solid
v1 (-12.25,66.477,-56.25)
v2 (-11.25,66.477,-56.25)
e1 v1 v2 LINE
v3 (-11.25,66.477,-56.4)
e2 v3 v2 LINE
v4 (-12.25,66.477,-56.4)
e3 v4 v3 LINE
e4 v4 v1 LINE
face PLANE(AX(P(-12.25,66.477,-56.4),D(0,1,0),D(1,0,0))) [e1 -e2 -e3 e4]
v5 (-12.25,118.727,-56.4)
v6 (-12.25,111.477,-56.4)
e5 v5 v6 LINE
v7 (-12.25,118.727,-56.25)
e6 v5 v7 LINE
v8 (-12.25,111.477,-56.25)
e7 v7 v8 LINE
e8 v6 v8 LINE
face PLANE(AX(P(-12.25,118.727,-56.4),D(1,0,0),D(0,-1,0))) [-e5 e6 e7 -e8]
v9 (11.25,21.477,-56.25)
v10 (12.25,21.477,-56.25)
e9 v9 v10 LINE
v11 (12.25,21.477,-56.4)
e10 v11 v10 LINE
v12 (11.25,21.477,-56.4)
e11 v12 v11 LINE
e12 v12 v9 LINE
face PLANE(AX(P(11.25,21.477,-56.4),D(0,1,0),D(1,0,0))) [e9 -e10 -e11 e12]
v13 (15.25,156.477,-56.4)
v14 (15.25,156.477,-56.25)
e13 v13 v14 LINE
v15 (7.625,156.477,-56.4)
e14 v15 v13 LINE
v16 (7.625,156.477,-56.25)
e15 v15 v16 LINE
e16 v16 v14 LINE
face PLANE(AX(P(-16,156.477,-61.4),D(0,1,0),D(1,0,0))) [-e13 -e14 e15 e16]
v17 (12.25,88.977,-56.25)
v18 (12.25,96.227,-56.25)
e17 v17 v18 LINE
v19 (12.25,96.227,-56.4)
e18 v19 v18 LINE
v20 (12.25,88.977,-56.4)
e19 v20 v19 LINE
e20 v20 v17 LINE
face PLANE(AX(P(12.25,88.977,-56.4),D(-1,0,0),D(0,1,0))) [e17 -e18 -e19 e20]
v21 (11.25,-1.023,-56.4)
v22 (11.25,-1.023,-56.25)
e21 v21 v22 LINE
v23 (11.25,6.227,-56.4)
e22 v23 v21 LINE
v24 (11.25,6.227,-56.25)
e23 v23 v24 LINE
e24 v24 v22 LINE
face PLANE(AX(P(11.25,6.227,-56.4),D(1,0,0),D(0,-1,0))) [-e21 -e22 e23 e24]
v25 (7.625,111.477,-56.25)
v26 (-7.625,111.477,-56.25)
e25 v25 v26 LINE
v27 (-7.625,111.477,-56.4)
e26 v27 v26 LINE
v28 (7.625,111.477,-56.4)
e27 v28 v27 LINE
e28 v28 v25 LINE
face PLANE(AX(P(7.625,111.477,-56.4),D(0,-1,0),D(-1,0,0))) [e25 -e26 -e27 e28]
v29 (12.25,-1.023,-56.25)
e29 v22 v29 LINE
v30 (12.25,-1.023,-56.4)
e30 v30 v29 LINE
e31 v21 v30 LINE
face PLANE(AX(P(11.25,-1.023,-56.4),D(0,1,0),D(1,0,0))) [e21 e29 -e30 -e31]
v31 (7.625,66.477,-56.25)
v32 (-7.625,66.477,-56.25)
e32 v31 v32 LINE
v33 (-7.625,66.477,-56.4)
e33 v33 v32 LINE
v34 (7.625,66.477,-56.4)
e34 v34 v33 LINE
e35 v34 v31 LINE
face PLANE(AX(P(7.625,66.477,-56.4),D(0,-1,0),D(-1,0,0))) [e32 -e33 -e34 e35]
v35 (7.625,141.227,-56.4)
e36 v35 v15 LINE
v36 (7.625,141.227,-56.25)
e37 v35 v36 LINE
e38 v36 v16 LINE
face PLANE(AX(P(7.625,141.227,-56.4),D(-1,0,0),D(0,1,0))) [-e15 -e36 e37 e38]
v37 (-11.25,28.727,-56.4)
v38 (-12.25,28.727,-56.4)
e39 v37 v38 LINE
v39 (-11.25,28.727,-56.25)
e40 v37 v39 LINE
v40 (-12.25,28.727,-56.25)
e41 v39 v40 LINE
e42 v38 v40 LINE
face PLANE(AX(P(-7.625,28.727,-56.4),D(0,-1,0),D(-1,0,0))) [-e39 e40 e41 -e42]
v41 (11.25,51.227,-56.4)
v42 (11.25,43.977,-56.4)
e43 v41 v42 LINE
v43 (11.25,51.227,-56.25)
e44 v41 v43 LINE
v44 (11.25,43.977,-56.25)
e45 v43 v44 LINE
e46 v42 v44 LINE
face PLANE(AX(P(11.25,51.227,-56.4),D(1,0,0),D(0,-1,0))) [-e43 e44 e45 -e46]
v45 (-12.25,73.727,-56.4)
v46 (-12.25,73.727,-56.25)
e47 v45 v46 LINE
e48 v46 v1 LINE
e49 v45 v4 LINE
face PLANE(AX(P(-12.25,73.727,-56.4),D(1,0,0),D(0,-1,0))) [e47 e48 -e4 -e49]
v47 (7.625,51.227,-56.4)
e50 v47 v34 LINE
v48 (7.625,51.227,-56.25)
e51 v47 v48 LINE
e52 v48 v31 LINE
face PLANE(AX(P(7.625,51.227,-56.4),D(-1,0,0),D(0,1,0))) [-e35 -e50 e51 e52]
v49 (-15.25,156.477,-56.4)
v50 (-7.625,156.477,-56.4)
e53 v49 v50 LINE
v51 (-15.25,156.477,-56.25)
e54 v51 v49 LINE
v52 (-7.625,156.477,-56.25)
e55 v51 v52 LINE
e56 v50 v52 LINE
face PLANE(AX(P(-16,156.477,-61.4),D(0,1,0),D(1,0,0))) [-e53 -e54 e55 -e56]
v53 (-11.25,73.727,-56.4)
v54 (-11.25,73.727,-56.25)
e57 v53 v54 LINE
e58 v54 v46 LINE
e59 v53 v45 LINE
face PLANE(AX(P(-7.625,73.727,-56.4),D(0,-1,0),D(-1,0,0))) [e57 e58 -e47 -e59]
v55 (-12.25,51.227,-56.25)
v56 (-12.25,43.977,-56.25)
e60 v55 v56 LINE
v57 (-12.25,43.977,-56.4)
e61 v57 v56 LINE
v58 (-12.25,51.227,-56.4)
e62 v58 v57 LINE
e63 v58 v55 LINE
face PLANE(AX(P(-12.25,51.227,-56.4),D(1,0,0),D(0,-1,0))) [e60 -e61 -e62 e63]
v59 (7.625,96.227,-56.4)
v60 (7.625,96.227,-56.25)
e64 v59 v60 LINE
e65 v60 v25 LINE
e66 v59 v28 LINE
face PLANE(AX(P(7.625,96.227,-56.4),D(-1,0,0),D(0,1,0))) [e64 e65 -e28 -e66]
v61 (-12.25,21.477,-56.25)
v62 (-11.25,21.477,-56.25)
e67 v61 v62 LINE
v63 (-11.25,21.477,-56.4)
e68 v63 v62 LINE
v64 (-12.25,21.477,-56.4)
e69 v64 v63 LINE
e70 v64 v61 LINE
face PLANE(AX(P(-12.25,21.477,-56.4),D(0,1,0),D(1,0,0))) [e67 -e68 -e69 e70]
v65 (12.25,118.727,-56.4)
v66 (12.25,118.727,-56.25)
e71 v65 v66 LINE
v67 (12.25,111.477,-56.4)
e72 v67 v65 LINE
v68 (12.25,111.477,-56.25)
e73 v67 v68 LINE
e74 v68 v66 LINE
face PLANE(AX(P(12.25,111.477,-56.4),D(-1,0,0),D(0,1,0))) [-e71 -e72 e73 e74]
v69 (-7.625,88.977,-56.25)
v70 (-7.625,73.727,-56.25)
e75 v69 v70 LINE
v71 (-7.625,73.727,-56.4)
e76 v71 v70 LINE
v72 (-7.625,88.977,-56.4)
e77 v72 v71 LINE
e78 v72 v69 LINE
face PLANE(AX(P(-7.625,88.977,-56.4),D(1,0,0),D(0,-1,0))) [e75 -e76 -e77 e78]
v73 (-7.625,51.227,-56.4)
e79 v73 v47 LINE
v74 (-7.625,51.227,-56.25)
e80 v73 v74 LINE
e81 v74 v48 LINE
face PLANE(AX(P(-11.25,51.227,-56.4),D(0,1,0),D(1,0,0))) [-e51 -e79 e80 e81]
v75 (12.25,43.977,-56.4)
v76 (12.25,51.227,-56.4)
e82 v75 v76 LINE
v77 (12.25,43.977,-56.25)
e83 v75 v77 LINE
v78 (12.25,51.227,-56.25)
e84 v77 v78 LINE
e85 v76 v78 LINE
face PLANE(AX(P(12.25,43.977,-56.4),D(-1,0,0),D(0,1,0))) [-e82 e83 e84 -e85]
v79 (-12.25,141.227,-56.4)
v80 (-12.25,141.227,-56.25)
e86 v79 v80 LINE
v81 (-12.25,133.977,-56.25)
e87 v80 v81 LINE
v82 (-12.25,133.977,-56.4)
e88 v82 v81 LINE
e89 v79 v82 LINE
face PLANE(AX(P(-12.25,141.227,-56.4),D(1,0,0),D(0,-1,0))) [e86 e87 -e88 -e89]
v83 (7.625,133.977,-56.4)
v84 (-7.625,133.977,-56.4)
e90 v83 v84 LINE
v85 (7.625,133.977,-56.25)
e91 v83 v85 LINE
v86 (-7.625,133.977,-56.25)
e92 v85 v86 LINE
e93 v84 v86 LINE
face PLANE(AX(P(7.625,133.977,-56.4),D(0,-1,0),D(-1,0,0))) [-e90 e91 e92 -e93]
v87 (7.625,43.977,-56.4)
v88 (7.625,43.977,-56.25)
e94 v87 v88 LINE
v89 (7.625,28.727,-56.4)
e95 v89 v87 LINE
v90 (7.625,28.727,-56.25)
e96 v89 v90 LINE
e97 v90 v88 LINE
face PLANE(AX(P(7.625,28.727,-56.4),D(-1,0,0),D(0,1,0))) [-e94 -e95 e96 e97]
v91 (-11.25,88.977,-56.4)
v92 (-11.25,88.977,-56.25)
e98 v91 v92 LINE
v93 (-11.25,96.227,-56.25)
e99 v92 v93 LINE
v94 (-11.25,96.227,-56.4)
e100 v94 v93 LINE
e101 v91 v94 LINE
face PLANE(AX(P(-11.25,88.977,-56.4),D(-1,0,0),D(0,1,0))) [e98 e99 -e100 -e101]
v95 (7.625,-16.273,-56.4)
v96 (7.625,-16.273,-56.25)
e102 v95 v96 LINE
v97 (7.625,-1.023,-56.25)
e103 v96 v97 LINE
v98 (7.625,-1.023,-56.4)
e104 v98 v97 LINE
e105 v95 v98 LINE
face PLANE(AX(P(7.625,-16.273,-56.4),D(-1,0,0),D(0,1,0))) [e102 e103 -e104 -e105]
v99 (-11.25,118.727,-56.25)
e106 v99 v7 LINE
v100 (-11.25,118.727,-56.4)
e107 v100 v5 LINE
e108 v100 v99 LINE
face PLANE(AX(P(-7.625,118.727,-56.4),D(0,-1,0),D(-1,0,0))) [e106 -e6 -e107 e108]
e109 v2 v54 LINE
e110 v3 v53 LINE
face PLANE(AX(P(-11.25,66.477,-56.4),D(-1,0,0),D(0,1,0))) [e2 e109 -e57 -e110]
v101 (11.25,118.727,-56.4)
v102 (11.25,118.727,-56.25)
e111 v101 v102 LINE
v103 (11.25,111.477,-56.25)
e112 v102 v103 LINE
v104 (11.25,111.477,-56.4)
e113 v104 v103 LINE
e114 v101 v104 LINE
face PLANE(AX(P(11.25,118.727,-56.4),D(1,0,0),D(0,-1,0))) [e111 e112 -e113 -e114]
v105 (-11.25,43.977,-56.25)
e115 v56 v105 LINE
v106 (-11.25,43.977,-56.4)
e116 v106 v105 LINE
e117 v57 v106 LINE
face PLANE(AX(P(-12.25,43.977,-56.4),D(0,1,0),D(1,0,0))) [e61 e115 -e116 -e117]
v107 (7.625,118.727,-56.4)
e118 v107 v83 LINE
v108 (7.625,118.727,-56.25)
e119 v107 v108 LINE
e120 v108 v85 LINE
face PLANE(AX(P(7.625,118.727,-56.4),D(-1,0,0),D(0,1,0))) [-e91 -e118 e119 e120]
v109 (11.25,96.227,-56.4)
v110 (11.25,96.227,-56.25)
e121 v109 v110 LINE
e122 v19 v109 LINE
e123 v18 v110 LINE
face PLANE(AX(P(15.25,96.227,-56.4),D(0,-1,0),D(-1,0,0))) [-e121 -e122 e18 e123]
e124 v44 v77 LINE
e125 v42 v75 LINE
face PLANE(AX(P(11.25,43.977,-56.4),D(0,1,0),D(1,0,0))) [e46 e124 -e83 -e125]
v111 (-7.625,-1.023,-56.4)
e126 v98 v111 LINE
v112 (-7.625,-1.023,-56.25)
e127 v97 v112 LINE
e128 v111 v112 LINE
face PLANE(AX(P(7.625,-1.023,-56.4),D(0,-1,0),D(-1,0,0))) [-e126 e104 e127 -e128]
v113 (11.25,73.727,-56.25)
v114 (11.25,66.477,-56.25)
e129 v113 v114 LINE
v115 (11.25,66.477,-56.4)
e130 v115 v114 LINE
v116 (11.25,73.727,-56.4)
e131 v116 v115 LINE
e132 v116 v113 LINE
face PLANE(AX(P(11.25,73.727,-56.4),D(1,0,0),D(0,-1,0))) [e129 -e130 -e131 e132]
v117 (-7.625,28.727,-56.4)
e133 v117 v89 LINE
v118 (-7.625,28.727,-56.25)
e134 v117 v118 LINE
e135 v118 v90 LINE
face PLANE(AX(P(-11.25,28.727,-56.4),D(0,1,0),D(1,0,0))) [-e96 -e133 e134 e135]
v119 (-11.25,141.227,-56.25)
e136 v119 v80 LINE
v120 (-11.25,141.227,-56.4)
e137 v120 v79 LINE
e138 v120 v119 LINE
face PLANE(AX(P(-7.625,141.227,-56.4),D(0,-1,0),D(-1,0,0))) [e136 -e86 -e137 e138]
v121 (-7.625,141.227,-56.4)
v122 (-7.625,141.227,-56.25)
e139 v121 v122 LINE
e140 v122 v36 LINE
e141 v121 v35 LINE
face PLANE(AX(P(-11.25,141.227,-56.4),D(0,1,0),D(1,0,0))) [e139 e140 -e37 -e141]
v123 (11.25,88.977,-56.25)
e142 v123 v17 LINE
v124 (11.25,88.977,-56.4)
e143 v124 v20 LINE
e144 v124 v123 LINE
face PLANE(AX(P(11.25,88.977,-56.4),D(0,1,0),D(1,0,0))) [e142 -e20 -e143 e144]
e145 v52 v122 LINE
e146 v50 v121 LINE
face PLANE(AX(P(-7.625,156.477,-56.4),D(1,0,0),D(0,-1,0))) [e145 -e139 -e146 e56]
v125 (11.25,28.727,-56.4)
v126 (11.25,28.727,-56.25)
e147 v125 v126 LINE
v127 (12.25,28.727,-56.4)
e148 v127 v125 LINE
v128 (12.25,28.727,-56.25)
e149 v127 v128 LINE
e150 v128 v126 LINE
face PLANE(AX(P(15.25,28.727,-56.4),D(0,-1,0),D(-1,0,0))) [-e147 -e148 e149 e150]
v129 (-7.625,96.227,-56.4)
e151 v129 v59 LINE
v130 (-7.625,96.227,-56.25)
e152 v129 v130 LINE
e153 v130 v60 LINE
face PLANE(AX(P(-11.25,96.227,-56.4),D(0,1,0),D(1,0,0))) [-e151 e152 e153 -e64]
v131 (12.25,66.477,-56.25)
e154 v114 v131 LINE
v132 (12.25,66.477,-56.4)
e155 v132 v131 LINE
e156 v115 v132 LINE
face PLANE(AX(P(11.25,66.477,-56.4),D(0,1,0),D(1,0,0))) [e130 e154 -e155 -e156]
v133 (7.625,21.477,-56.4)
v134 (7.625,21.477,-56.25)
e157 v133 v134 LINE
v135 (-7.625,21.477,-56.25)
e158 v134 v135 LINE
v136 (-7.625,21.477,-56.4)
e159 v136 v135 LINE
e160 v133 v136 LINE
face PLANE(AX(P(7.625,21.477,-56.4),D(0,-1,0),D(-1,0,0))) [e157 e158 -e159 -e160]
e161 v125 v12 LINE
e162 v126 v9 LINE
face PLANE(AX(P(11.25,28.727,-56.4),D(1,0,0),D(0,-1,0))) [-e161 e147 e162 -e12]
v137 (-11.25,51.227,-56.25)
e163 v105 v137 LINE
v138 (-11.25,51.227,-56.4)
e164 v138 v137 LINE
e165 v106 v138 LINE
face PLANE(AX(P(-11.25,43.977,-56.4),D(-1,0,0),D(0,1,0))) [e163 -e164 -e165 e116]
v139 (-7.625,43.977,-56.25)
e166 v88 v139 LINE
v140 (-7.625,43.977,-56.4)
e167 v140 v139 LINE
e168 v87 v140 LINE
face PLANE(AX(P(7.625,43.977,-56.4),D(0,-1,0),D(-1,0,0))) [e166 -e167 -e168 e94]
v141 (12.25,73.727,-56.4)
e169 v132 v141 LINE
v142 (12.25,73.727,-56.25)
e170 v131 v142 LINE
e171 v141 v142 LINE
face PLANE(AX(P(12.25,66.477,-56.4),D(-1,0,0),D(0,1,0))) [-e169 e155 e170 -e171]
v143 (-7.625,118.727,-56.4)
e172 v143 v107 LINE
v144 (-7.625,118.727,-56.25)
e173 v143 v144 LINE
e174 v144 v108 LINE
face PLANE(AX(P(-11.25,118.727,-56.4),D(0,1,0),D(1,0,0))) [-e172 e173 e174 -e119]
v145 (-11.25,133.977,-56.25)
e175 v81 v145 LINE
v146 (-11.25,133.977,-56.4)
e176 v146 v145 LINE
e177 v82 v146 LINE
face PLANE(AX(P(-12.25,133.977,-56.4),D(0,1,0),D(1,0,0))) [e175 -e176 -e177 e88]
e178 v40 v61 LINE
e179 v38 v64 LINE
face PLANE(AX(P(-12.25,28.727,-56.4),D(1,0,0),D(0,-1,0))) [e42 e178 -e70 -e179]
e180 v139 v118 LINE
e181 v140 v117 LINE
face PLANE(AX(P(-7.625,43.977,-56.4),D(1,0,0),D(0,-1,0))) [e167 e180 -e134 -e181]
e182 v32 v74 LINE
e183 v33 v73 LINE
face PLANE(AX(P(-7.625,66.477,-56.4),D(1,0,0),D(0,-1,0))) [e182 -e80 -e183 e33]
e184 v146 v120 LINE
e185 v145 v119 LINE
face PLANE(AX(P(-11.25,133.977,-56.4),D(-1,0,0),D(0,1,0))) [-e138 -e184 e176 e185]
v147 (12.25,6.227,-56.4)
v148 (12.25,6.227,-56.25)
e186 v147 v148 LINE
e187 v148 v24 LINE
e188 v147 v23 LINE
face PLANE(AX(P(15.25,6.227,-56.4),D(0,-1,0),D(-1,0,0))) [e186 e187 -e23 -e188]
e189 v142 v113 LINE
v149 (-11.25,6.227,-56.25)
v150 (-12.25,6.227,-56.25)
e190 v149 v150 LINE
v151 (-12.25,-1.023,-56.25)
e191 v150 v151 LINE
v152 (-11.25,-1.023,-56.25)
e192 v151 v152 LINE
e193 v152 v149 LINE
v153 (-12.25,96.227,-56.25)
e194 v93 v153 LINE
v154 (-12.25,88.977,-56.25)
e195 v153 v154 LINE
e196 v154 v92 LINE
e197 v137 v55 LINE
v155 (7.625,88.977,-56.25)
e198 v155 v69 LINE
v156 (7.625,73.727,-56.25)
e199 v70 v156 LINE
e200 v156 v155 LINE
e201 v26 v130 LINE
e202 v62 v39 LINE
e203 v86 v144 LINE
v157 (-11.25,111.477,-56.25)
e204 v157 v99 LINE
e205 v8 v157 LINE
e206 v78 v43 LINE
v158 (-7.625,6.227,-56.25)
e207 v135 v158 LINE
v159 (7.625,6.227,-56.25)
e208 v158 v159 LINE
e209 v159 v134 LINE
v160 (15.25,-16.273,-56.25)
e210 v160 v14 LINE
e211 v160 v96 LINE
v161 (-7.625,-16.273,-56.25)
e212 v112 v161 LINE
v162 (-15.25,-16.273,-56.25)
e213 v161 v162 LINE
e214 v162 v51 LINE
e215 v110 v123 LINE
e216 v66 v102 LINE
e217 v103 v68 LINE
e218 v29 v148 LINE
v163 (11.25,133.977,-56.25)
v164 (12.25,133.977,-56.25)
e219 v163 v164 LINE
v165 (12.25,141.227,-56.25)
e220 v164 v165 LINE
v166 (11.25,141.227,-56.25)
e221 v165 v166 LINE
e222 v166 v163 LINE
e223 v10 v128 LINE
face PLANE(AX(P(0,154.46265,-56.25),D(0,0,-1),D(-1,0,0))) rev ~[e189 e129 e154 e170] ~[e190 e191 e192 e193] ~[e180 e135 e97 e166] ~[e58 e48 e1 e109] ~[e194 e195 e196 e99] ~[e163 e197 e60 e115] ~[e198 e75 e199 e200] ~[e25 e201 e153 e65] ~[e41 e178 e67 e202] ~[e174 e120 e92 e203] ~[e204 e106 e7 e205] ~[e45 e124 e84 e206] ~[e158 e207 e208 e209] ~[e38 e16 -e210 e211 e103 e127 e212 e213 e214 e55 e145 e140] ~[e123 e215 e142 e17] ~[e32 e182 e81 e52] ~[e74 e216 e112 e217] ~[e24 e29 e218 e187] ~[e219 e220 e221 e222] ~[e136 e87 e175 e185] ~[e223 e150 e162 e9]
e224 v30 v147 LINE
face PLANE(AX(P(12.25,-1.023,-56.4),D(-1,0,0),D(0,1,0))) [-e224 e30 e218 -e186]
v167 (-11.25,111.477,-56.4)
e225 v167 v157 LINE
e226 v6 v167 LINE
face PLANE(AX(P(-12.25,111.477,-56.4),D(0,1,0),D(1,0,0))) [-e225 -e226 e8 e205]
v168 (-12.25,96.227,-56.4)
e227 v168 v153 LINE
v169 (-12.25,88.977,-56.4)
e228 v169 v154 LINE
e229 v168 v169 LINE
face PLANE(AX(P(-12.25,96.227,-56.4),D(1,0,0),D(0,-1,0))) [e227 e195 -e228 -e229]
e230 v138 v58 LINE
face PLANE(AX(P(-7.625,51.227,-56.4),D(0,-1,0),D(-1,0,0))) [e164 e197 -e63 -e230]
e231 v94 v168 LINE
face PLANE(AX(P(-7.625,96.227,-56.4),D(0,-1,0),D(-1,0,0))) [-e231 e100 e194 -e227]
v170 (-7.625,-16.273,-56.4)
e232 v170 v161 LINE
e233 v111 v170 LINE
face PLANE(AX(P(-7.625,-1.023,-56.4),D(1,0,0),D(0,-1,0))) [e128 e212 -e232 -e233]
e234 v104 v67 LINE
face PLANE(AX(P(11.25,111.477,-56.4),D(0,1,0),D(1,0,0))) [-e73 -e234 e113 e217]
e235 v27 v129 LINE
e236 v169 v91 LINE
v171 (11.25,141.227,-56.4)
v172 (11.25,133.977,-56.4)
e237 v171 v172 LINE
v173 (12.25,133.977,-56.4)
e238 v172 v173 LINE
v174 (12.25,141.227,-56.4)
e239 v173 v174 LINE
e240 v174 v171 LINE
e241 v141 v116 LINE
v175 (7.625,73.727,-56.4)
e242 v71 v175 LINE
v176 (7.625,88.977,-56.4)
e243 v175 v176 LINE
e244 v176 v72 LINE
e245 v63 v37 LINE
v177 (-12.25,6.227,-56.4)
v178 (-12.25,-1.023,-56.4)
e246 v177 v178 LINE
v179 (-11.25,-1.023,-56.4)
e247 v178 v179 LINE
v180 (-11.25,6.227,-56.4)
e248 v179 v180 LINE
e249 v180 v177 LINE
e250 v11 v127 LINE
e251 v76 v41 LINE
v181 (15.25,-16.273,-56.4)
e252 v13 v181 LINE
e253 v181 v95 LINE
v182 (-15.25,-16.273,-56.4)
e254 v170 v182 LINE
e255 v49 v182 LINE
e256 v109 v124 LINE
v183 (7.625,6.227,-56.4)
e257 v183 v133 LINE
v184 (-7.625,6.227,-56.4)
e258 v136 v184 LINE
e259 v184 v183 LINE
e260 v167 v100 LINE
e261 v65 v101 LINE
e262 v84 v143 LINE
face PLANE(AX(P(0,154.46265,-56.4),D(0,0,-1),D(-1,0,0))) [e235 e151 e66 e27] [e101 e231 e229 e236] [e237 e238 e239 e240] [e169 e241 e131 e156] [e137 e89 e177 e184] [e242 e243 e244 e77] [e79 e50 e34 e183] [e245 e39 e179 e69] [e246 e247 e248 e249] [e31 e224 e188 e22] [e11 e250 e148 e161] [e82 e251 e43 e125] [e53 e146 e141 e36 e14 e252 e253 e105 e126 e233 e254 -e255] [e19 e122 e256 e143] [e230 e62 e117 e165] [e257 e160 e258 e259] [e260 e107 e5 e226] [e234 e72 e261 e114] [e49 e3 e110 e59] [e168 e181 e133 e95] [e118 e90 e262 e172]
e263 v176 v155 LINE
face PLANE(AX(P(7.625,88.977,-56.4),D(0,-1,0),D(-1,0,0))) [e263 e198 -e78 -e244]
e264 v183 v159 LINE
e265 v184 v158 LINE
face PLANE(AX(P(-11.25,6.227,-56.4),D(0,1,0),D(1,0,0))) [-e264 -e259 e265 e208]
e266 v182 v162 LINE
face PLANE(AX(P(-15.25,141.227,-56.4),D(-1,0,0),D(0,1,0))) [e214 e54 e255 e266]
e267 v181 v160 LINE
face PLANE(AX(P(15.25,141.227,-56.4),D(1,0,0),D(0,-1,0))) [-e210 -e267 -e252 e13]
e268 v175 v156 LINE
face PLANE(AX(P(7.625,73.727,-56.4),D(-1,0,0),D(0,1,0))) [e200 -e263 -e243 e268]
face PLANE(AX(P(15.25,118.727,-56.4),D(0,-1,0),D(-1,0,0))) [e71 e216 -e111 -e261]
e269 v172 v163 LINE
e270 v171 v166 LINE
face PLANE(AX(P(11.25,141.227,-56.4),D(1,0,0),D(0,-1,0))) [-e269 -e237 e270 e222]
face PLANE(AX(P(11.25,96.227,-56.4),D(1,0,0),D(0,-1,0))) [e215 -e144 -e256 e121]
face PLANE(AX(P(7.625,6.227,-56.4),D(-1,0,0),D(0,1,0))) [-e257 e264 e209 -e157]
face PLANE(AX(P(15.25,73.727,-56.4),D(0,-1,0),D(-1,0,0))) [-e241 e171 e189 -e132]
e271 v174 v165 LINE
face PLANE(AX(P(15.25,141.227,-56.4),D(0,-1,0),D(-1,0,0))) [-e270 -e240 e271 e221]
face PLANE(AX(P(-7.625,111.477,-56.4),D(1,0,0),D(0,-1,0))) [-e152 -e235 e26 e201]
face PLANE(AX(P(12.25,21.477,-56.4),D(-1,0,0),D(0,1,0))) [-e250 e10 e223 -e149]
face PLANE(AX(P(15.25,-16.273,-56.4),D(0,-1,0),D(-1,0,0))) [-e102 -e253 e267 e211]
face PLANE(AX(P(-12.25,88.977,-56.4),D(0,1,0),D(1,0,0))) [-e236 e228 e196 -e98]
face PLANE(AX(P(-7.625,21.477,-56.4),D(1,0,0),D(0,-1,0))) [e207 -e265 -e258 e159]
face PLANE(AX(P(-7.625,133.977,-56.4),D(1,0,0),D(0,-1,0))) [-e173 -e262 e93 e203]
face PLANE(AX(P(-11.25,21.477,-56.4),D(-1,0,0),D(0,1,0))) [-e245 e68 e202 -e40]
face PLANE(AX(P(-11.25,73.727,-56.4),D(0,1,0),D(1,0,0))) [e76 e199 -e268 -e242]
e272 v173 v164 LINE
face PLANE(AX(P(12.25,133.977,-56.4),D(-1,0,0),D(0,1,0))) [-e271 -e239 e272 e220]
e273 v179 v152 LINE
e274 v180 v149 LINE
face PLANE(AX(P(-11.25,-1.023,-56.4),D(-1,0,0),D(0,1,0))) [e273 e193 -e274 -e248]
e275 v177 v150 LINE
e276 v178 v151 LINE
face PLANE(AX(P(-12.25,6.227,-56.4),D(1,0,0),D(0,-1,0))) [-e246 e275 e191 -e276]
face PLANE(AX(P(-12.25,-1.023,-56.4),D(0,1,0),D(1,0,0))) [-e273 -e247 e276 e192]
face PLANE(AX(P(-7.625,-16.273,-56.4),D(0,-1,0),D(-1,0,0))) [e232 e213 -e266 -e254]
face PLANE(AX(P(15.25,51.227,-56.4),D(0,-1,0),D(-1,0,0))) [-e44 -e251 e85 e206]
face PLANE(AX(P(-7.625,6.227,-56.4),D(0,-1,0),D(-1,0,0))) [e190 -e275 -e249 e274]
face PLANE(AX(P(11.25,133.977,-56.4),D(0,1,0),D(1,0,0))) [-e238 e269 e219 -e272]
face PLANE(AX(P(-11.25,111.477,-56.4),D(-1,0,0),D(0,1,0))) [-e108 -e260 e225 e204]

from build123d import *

# Parameters (mm, degrees)
PAD024_DEPTH = 0.15
PAD025_DEPTH = 0.15
PAD026_DEPTH = 0.15
PAD027_DEPTH = 0.15
PAD028_DEPTH = 0.15
PAD029_DEPTH = 0.15
BOX011_W     = 32
BOX011_H     = 10
BOX011_DEPTH = 10
PAD030_DEPTH = 0.15
PAD023_DEPTH = 0.15


with BuildPart() as battery_connector008:
    # Sketch038 → Pad024 (new body)
    with BuildSketch(Plane.XY):
        Polygon((-15.25, -15), (-15.25, 7.5), (-12.25, 7.5), (-12.25, 0.25), (-11.25, 0.25), (-11.25, 7.5), (11.25, 7.5), (11.25, 0.25), (12.25, 0.25), (12.25, 7.5), (15.25, 7.5), (15.25, -15), (7.625, -15), (7.625, 0.25), (-7.625, 0.25), (-7.625, -15), align=None)
    extrude(amount=PAD024_DEPTH)


with BuildPart() as battery_connector008_1:
    # Body032 placement: moved
    add(battery_connector008.part.moved(Location((0, 22.5, 0))))


with BuildPart() as battery_connector009:
    # Sketch039 → Pad025 (new body)
    with BuildSketch(Plane.XY):
        Polygon((-15.25, -15), (-15.25, 7.5), (-12.25, 7.5), (-12.25, 0.25), (-11.25, 0.25), (-11.25, 7.5), (11.25, 7.5), (11.25, 0.25), (12.25, 0.25), (12.25, 7.5), (15.25, 7.5), (15.25, -15), (7.625, -15), (7.625, 0.25), (-7.625, 0.25), (-7.625, -15), align=None)
    extrude(amount=PAD025_DEPTH)


with BuildPart() as battery_connector009_1:
    # Body033 placement: moved
    add(battery_connector009.part.moved(Location((0, 45, 0))))


with BuildPart() as battery_connector010:
    # Sketch040 → Pad026 (new body)
    with BuildSketch(Plane.XY):
        Polygon((-15.25, -15), (-15.25, 7.5), (-12.25, 7.5), (-12.25, 0.25), (-11.25, 0.25), (-11.25, 7.5), (11.25, 7.5), (11.25, 0.25), (12.25, 0.25), (12.25, 7.5), (15.25, 7.5), (15.25, -15), (7.625, -15), (7.625, 0.25), (-7.625, 0.25), (-7.625, -15), align=None)
    extrude(amount=PAD026_DEPTH)


with BuildPart() as battery_connector010_1:
    # Body034 placement: moved
    add(battery_connector010.part.moved(Location((0, 67.5, 0))))


with BuildPart() as battery_connector011:
    # Sketch041 → Pad027 (new body)
    with BuildSketch(Plane.XY):
        Polygon((-15.25, -15), (-15.25, 7.5), (-12.25, 7.5), (-12.25, 0.25), (-11.25, 0.25), (-11.25, 7.5), (11.25, 7.5), (11.25, 0.25), (12.25, 0.25), (12.25, 7.5), (15.25, 7.5), (15.25, -15), (7.625, -15), (7.625, 0.25), (-7.625, 0.25), (-7.625, -15), align=None)
    extrude(amount=PAD027_DEPTH)


with BuildPart() as battery_connector011_1:
    # Body035 placement: moved
    add(battery_connector011.part.moved(Location((0, 90, 0))))


with BuildPart() as battery_connector012:
    # Sketch042 → Pad028 (new body)
    with BuildSketch(Plane.XY):
        Polygon((-15.25, -15), (-15.25, 7.5), (-12.25, 7.5), (-12.25, 0.25), (-11.25, 0.25), (-11.25, 7.5), (11.25, 7.5), (11.25, 0.25), (12.25, 0.25), (12.25, 7.5), (15.25, 7.5), (15.25, -15), (7.625, -15), (7.625, 0.25), (-7.625, 0.25), (-7.625, -15), align=None)
    extrude(amount=PAD028_DEPTH)


with BuildPart() as battery_connector012_1:
    # Body036 placement: moved
    add(battery_connector012.part.moved(Location((0, 112.5, 0))))


with BuildPart() as battery_connector013:
    # Sketch043 → Pad029 (new body)
    with BuildSketch(Plane.XY):
        Polygon((-15.25, -15), (-15.25, 7.5), (-12.25, 7.5), (-12.25, 0.25), (-11.25, 0.25), (-11.25, 7.5), (11.25, 7.5), (11.25, 0.25), (12.25, 0.25), (12.25, 7.5), (15.25, 7.5), (15.25, -15), (7.625, -15), (7.625, 0.25), (-7.625, 0.25), (-7.625, -15), align=None)
    extrude(amount=PAD029_DEPTH)


with BuildPart() as battery_connector013_1:
    # Body037 placement: moved
    add(battery_connector013.part.moved(Location((0, 135, 0))))


with BuildPart() as cube011:
    # Box011 → Box011 (new body)
    with BuildSketch(Plane(origin=(-16, 157.75, -5), x_dir=(1, 0, 0), z_dir=(0, 0, 1))):
        with Locations((16, 5)):
            Rectangle(BOX011_W, BOX011_H)
    extrude(amount=BOX011_DEPTH)


with BuildPart() as cut004:
    # Sketch044 → Pad030 (new body)
    with BuildSketch(Plane.XY):
        Polygon((-15.25, -15), (-15.25, 7.5), (-12.25, 7.5), (-12.25, 0.25), (-11.25, 0.25), (-11.25, 7.5), (11.25, 7.5), (11.25, 0.25), (12.25, 0.25), (12.25, 7.5), (15.25, 7.5), (15.25, -15), (7.625, -15), (7.625, 0.25), (-7.625, 0.25), (-7.625, -15), align=None)
    extrude(amount=PAD030_DEPTH)


with BuildPart() as cut004_1:
    # Body038 placement: moved
    add(cut004.part.moved(Location((0, 157.5, 0))))

    # Cut004: cut Cube011
    add(cube011.part, mode=Mode.SUBTRACT)


with BuildPart() as batteryconnector:
    # Sketch037 → Pad023 (new body)
    with BuildSketch(Plane.XY):
        Polygon((-15.25, -15), (-15.25, 7.5), (-12.25, 7.5), (-12.25, 0.25), (-11.25, 0.25), (-11.25, 7.5), (11.25, 7.5), (11.25, 0.25), (12.25, 0.25), (12.25, 7.5), (15.25, 7.5), (15.25, -15), (7.625, -15), (7.625, 0.25), (-7.625, 0.25), (-7.625, -15), align=None)
    extrude(amount=PAD023_DEPTH)

    # Fusion: union Battery Connector008, Battery Connector009, Battery Connector010, Battery Connector011, Battery Connector012, Battery Connector013, Cut004
    add(battery_connector008_1.part)
    add(battery_connector009_1.part)
    add(battery_connector010_1.part)
    add(battery_connector011_1.part)
    add(battery_connector012_1.part)
    add(battery_connector013_1.part)
    add(cut004_1.part)


with BuildPart() as batteryconnector_1:
    # refine placement: moved
    add(batteryconnector.part.moved(Location((0, -1.273, -56.4))))


solid = batteryconnector_1.part
